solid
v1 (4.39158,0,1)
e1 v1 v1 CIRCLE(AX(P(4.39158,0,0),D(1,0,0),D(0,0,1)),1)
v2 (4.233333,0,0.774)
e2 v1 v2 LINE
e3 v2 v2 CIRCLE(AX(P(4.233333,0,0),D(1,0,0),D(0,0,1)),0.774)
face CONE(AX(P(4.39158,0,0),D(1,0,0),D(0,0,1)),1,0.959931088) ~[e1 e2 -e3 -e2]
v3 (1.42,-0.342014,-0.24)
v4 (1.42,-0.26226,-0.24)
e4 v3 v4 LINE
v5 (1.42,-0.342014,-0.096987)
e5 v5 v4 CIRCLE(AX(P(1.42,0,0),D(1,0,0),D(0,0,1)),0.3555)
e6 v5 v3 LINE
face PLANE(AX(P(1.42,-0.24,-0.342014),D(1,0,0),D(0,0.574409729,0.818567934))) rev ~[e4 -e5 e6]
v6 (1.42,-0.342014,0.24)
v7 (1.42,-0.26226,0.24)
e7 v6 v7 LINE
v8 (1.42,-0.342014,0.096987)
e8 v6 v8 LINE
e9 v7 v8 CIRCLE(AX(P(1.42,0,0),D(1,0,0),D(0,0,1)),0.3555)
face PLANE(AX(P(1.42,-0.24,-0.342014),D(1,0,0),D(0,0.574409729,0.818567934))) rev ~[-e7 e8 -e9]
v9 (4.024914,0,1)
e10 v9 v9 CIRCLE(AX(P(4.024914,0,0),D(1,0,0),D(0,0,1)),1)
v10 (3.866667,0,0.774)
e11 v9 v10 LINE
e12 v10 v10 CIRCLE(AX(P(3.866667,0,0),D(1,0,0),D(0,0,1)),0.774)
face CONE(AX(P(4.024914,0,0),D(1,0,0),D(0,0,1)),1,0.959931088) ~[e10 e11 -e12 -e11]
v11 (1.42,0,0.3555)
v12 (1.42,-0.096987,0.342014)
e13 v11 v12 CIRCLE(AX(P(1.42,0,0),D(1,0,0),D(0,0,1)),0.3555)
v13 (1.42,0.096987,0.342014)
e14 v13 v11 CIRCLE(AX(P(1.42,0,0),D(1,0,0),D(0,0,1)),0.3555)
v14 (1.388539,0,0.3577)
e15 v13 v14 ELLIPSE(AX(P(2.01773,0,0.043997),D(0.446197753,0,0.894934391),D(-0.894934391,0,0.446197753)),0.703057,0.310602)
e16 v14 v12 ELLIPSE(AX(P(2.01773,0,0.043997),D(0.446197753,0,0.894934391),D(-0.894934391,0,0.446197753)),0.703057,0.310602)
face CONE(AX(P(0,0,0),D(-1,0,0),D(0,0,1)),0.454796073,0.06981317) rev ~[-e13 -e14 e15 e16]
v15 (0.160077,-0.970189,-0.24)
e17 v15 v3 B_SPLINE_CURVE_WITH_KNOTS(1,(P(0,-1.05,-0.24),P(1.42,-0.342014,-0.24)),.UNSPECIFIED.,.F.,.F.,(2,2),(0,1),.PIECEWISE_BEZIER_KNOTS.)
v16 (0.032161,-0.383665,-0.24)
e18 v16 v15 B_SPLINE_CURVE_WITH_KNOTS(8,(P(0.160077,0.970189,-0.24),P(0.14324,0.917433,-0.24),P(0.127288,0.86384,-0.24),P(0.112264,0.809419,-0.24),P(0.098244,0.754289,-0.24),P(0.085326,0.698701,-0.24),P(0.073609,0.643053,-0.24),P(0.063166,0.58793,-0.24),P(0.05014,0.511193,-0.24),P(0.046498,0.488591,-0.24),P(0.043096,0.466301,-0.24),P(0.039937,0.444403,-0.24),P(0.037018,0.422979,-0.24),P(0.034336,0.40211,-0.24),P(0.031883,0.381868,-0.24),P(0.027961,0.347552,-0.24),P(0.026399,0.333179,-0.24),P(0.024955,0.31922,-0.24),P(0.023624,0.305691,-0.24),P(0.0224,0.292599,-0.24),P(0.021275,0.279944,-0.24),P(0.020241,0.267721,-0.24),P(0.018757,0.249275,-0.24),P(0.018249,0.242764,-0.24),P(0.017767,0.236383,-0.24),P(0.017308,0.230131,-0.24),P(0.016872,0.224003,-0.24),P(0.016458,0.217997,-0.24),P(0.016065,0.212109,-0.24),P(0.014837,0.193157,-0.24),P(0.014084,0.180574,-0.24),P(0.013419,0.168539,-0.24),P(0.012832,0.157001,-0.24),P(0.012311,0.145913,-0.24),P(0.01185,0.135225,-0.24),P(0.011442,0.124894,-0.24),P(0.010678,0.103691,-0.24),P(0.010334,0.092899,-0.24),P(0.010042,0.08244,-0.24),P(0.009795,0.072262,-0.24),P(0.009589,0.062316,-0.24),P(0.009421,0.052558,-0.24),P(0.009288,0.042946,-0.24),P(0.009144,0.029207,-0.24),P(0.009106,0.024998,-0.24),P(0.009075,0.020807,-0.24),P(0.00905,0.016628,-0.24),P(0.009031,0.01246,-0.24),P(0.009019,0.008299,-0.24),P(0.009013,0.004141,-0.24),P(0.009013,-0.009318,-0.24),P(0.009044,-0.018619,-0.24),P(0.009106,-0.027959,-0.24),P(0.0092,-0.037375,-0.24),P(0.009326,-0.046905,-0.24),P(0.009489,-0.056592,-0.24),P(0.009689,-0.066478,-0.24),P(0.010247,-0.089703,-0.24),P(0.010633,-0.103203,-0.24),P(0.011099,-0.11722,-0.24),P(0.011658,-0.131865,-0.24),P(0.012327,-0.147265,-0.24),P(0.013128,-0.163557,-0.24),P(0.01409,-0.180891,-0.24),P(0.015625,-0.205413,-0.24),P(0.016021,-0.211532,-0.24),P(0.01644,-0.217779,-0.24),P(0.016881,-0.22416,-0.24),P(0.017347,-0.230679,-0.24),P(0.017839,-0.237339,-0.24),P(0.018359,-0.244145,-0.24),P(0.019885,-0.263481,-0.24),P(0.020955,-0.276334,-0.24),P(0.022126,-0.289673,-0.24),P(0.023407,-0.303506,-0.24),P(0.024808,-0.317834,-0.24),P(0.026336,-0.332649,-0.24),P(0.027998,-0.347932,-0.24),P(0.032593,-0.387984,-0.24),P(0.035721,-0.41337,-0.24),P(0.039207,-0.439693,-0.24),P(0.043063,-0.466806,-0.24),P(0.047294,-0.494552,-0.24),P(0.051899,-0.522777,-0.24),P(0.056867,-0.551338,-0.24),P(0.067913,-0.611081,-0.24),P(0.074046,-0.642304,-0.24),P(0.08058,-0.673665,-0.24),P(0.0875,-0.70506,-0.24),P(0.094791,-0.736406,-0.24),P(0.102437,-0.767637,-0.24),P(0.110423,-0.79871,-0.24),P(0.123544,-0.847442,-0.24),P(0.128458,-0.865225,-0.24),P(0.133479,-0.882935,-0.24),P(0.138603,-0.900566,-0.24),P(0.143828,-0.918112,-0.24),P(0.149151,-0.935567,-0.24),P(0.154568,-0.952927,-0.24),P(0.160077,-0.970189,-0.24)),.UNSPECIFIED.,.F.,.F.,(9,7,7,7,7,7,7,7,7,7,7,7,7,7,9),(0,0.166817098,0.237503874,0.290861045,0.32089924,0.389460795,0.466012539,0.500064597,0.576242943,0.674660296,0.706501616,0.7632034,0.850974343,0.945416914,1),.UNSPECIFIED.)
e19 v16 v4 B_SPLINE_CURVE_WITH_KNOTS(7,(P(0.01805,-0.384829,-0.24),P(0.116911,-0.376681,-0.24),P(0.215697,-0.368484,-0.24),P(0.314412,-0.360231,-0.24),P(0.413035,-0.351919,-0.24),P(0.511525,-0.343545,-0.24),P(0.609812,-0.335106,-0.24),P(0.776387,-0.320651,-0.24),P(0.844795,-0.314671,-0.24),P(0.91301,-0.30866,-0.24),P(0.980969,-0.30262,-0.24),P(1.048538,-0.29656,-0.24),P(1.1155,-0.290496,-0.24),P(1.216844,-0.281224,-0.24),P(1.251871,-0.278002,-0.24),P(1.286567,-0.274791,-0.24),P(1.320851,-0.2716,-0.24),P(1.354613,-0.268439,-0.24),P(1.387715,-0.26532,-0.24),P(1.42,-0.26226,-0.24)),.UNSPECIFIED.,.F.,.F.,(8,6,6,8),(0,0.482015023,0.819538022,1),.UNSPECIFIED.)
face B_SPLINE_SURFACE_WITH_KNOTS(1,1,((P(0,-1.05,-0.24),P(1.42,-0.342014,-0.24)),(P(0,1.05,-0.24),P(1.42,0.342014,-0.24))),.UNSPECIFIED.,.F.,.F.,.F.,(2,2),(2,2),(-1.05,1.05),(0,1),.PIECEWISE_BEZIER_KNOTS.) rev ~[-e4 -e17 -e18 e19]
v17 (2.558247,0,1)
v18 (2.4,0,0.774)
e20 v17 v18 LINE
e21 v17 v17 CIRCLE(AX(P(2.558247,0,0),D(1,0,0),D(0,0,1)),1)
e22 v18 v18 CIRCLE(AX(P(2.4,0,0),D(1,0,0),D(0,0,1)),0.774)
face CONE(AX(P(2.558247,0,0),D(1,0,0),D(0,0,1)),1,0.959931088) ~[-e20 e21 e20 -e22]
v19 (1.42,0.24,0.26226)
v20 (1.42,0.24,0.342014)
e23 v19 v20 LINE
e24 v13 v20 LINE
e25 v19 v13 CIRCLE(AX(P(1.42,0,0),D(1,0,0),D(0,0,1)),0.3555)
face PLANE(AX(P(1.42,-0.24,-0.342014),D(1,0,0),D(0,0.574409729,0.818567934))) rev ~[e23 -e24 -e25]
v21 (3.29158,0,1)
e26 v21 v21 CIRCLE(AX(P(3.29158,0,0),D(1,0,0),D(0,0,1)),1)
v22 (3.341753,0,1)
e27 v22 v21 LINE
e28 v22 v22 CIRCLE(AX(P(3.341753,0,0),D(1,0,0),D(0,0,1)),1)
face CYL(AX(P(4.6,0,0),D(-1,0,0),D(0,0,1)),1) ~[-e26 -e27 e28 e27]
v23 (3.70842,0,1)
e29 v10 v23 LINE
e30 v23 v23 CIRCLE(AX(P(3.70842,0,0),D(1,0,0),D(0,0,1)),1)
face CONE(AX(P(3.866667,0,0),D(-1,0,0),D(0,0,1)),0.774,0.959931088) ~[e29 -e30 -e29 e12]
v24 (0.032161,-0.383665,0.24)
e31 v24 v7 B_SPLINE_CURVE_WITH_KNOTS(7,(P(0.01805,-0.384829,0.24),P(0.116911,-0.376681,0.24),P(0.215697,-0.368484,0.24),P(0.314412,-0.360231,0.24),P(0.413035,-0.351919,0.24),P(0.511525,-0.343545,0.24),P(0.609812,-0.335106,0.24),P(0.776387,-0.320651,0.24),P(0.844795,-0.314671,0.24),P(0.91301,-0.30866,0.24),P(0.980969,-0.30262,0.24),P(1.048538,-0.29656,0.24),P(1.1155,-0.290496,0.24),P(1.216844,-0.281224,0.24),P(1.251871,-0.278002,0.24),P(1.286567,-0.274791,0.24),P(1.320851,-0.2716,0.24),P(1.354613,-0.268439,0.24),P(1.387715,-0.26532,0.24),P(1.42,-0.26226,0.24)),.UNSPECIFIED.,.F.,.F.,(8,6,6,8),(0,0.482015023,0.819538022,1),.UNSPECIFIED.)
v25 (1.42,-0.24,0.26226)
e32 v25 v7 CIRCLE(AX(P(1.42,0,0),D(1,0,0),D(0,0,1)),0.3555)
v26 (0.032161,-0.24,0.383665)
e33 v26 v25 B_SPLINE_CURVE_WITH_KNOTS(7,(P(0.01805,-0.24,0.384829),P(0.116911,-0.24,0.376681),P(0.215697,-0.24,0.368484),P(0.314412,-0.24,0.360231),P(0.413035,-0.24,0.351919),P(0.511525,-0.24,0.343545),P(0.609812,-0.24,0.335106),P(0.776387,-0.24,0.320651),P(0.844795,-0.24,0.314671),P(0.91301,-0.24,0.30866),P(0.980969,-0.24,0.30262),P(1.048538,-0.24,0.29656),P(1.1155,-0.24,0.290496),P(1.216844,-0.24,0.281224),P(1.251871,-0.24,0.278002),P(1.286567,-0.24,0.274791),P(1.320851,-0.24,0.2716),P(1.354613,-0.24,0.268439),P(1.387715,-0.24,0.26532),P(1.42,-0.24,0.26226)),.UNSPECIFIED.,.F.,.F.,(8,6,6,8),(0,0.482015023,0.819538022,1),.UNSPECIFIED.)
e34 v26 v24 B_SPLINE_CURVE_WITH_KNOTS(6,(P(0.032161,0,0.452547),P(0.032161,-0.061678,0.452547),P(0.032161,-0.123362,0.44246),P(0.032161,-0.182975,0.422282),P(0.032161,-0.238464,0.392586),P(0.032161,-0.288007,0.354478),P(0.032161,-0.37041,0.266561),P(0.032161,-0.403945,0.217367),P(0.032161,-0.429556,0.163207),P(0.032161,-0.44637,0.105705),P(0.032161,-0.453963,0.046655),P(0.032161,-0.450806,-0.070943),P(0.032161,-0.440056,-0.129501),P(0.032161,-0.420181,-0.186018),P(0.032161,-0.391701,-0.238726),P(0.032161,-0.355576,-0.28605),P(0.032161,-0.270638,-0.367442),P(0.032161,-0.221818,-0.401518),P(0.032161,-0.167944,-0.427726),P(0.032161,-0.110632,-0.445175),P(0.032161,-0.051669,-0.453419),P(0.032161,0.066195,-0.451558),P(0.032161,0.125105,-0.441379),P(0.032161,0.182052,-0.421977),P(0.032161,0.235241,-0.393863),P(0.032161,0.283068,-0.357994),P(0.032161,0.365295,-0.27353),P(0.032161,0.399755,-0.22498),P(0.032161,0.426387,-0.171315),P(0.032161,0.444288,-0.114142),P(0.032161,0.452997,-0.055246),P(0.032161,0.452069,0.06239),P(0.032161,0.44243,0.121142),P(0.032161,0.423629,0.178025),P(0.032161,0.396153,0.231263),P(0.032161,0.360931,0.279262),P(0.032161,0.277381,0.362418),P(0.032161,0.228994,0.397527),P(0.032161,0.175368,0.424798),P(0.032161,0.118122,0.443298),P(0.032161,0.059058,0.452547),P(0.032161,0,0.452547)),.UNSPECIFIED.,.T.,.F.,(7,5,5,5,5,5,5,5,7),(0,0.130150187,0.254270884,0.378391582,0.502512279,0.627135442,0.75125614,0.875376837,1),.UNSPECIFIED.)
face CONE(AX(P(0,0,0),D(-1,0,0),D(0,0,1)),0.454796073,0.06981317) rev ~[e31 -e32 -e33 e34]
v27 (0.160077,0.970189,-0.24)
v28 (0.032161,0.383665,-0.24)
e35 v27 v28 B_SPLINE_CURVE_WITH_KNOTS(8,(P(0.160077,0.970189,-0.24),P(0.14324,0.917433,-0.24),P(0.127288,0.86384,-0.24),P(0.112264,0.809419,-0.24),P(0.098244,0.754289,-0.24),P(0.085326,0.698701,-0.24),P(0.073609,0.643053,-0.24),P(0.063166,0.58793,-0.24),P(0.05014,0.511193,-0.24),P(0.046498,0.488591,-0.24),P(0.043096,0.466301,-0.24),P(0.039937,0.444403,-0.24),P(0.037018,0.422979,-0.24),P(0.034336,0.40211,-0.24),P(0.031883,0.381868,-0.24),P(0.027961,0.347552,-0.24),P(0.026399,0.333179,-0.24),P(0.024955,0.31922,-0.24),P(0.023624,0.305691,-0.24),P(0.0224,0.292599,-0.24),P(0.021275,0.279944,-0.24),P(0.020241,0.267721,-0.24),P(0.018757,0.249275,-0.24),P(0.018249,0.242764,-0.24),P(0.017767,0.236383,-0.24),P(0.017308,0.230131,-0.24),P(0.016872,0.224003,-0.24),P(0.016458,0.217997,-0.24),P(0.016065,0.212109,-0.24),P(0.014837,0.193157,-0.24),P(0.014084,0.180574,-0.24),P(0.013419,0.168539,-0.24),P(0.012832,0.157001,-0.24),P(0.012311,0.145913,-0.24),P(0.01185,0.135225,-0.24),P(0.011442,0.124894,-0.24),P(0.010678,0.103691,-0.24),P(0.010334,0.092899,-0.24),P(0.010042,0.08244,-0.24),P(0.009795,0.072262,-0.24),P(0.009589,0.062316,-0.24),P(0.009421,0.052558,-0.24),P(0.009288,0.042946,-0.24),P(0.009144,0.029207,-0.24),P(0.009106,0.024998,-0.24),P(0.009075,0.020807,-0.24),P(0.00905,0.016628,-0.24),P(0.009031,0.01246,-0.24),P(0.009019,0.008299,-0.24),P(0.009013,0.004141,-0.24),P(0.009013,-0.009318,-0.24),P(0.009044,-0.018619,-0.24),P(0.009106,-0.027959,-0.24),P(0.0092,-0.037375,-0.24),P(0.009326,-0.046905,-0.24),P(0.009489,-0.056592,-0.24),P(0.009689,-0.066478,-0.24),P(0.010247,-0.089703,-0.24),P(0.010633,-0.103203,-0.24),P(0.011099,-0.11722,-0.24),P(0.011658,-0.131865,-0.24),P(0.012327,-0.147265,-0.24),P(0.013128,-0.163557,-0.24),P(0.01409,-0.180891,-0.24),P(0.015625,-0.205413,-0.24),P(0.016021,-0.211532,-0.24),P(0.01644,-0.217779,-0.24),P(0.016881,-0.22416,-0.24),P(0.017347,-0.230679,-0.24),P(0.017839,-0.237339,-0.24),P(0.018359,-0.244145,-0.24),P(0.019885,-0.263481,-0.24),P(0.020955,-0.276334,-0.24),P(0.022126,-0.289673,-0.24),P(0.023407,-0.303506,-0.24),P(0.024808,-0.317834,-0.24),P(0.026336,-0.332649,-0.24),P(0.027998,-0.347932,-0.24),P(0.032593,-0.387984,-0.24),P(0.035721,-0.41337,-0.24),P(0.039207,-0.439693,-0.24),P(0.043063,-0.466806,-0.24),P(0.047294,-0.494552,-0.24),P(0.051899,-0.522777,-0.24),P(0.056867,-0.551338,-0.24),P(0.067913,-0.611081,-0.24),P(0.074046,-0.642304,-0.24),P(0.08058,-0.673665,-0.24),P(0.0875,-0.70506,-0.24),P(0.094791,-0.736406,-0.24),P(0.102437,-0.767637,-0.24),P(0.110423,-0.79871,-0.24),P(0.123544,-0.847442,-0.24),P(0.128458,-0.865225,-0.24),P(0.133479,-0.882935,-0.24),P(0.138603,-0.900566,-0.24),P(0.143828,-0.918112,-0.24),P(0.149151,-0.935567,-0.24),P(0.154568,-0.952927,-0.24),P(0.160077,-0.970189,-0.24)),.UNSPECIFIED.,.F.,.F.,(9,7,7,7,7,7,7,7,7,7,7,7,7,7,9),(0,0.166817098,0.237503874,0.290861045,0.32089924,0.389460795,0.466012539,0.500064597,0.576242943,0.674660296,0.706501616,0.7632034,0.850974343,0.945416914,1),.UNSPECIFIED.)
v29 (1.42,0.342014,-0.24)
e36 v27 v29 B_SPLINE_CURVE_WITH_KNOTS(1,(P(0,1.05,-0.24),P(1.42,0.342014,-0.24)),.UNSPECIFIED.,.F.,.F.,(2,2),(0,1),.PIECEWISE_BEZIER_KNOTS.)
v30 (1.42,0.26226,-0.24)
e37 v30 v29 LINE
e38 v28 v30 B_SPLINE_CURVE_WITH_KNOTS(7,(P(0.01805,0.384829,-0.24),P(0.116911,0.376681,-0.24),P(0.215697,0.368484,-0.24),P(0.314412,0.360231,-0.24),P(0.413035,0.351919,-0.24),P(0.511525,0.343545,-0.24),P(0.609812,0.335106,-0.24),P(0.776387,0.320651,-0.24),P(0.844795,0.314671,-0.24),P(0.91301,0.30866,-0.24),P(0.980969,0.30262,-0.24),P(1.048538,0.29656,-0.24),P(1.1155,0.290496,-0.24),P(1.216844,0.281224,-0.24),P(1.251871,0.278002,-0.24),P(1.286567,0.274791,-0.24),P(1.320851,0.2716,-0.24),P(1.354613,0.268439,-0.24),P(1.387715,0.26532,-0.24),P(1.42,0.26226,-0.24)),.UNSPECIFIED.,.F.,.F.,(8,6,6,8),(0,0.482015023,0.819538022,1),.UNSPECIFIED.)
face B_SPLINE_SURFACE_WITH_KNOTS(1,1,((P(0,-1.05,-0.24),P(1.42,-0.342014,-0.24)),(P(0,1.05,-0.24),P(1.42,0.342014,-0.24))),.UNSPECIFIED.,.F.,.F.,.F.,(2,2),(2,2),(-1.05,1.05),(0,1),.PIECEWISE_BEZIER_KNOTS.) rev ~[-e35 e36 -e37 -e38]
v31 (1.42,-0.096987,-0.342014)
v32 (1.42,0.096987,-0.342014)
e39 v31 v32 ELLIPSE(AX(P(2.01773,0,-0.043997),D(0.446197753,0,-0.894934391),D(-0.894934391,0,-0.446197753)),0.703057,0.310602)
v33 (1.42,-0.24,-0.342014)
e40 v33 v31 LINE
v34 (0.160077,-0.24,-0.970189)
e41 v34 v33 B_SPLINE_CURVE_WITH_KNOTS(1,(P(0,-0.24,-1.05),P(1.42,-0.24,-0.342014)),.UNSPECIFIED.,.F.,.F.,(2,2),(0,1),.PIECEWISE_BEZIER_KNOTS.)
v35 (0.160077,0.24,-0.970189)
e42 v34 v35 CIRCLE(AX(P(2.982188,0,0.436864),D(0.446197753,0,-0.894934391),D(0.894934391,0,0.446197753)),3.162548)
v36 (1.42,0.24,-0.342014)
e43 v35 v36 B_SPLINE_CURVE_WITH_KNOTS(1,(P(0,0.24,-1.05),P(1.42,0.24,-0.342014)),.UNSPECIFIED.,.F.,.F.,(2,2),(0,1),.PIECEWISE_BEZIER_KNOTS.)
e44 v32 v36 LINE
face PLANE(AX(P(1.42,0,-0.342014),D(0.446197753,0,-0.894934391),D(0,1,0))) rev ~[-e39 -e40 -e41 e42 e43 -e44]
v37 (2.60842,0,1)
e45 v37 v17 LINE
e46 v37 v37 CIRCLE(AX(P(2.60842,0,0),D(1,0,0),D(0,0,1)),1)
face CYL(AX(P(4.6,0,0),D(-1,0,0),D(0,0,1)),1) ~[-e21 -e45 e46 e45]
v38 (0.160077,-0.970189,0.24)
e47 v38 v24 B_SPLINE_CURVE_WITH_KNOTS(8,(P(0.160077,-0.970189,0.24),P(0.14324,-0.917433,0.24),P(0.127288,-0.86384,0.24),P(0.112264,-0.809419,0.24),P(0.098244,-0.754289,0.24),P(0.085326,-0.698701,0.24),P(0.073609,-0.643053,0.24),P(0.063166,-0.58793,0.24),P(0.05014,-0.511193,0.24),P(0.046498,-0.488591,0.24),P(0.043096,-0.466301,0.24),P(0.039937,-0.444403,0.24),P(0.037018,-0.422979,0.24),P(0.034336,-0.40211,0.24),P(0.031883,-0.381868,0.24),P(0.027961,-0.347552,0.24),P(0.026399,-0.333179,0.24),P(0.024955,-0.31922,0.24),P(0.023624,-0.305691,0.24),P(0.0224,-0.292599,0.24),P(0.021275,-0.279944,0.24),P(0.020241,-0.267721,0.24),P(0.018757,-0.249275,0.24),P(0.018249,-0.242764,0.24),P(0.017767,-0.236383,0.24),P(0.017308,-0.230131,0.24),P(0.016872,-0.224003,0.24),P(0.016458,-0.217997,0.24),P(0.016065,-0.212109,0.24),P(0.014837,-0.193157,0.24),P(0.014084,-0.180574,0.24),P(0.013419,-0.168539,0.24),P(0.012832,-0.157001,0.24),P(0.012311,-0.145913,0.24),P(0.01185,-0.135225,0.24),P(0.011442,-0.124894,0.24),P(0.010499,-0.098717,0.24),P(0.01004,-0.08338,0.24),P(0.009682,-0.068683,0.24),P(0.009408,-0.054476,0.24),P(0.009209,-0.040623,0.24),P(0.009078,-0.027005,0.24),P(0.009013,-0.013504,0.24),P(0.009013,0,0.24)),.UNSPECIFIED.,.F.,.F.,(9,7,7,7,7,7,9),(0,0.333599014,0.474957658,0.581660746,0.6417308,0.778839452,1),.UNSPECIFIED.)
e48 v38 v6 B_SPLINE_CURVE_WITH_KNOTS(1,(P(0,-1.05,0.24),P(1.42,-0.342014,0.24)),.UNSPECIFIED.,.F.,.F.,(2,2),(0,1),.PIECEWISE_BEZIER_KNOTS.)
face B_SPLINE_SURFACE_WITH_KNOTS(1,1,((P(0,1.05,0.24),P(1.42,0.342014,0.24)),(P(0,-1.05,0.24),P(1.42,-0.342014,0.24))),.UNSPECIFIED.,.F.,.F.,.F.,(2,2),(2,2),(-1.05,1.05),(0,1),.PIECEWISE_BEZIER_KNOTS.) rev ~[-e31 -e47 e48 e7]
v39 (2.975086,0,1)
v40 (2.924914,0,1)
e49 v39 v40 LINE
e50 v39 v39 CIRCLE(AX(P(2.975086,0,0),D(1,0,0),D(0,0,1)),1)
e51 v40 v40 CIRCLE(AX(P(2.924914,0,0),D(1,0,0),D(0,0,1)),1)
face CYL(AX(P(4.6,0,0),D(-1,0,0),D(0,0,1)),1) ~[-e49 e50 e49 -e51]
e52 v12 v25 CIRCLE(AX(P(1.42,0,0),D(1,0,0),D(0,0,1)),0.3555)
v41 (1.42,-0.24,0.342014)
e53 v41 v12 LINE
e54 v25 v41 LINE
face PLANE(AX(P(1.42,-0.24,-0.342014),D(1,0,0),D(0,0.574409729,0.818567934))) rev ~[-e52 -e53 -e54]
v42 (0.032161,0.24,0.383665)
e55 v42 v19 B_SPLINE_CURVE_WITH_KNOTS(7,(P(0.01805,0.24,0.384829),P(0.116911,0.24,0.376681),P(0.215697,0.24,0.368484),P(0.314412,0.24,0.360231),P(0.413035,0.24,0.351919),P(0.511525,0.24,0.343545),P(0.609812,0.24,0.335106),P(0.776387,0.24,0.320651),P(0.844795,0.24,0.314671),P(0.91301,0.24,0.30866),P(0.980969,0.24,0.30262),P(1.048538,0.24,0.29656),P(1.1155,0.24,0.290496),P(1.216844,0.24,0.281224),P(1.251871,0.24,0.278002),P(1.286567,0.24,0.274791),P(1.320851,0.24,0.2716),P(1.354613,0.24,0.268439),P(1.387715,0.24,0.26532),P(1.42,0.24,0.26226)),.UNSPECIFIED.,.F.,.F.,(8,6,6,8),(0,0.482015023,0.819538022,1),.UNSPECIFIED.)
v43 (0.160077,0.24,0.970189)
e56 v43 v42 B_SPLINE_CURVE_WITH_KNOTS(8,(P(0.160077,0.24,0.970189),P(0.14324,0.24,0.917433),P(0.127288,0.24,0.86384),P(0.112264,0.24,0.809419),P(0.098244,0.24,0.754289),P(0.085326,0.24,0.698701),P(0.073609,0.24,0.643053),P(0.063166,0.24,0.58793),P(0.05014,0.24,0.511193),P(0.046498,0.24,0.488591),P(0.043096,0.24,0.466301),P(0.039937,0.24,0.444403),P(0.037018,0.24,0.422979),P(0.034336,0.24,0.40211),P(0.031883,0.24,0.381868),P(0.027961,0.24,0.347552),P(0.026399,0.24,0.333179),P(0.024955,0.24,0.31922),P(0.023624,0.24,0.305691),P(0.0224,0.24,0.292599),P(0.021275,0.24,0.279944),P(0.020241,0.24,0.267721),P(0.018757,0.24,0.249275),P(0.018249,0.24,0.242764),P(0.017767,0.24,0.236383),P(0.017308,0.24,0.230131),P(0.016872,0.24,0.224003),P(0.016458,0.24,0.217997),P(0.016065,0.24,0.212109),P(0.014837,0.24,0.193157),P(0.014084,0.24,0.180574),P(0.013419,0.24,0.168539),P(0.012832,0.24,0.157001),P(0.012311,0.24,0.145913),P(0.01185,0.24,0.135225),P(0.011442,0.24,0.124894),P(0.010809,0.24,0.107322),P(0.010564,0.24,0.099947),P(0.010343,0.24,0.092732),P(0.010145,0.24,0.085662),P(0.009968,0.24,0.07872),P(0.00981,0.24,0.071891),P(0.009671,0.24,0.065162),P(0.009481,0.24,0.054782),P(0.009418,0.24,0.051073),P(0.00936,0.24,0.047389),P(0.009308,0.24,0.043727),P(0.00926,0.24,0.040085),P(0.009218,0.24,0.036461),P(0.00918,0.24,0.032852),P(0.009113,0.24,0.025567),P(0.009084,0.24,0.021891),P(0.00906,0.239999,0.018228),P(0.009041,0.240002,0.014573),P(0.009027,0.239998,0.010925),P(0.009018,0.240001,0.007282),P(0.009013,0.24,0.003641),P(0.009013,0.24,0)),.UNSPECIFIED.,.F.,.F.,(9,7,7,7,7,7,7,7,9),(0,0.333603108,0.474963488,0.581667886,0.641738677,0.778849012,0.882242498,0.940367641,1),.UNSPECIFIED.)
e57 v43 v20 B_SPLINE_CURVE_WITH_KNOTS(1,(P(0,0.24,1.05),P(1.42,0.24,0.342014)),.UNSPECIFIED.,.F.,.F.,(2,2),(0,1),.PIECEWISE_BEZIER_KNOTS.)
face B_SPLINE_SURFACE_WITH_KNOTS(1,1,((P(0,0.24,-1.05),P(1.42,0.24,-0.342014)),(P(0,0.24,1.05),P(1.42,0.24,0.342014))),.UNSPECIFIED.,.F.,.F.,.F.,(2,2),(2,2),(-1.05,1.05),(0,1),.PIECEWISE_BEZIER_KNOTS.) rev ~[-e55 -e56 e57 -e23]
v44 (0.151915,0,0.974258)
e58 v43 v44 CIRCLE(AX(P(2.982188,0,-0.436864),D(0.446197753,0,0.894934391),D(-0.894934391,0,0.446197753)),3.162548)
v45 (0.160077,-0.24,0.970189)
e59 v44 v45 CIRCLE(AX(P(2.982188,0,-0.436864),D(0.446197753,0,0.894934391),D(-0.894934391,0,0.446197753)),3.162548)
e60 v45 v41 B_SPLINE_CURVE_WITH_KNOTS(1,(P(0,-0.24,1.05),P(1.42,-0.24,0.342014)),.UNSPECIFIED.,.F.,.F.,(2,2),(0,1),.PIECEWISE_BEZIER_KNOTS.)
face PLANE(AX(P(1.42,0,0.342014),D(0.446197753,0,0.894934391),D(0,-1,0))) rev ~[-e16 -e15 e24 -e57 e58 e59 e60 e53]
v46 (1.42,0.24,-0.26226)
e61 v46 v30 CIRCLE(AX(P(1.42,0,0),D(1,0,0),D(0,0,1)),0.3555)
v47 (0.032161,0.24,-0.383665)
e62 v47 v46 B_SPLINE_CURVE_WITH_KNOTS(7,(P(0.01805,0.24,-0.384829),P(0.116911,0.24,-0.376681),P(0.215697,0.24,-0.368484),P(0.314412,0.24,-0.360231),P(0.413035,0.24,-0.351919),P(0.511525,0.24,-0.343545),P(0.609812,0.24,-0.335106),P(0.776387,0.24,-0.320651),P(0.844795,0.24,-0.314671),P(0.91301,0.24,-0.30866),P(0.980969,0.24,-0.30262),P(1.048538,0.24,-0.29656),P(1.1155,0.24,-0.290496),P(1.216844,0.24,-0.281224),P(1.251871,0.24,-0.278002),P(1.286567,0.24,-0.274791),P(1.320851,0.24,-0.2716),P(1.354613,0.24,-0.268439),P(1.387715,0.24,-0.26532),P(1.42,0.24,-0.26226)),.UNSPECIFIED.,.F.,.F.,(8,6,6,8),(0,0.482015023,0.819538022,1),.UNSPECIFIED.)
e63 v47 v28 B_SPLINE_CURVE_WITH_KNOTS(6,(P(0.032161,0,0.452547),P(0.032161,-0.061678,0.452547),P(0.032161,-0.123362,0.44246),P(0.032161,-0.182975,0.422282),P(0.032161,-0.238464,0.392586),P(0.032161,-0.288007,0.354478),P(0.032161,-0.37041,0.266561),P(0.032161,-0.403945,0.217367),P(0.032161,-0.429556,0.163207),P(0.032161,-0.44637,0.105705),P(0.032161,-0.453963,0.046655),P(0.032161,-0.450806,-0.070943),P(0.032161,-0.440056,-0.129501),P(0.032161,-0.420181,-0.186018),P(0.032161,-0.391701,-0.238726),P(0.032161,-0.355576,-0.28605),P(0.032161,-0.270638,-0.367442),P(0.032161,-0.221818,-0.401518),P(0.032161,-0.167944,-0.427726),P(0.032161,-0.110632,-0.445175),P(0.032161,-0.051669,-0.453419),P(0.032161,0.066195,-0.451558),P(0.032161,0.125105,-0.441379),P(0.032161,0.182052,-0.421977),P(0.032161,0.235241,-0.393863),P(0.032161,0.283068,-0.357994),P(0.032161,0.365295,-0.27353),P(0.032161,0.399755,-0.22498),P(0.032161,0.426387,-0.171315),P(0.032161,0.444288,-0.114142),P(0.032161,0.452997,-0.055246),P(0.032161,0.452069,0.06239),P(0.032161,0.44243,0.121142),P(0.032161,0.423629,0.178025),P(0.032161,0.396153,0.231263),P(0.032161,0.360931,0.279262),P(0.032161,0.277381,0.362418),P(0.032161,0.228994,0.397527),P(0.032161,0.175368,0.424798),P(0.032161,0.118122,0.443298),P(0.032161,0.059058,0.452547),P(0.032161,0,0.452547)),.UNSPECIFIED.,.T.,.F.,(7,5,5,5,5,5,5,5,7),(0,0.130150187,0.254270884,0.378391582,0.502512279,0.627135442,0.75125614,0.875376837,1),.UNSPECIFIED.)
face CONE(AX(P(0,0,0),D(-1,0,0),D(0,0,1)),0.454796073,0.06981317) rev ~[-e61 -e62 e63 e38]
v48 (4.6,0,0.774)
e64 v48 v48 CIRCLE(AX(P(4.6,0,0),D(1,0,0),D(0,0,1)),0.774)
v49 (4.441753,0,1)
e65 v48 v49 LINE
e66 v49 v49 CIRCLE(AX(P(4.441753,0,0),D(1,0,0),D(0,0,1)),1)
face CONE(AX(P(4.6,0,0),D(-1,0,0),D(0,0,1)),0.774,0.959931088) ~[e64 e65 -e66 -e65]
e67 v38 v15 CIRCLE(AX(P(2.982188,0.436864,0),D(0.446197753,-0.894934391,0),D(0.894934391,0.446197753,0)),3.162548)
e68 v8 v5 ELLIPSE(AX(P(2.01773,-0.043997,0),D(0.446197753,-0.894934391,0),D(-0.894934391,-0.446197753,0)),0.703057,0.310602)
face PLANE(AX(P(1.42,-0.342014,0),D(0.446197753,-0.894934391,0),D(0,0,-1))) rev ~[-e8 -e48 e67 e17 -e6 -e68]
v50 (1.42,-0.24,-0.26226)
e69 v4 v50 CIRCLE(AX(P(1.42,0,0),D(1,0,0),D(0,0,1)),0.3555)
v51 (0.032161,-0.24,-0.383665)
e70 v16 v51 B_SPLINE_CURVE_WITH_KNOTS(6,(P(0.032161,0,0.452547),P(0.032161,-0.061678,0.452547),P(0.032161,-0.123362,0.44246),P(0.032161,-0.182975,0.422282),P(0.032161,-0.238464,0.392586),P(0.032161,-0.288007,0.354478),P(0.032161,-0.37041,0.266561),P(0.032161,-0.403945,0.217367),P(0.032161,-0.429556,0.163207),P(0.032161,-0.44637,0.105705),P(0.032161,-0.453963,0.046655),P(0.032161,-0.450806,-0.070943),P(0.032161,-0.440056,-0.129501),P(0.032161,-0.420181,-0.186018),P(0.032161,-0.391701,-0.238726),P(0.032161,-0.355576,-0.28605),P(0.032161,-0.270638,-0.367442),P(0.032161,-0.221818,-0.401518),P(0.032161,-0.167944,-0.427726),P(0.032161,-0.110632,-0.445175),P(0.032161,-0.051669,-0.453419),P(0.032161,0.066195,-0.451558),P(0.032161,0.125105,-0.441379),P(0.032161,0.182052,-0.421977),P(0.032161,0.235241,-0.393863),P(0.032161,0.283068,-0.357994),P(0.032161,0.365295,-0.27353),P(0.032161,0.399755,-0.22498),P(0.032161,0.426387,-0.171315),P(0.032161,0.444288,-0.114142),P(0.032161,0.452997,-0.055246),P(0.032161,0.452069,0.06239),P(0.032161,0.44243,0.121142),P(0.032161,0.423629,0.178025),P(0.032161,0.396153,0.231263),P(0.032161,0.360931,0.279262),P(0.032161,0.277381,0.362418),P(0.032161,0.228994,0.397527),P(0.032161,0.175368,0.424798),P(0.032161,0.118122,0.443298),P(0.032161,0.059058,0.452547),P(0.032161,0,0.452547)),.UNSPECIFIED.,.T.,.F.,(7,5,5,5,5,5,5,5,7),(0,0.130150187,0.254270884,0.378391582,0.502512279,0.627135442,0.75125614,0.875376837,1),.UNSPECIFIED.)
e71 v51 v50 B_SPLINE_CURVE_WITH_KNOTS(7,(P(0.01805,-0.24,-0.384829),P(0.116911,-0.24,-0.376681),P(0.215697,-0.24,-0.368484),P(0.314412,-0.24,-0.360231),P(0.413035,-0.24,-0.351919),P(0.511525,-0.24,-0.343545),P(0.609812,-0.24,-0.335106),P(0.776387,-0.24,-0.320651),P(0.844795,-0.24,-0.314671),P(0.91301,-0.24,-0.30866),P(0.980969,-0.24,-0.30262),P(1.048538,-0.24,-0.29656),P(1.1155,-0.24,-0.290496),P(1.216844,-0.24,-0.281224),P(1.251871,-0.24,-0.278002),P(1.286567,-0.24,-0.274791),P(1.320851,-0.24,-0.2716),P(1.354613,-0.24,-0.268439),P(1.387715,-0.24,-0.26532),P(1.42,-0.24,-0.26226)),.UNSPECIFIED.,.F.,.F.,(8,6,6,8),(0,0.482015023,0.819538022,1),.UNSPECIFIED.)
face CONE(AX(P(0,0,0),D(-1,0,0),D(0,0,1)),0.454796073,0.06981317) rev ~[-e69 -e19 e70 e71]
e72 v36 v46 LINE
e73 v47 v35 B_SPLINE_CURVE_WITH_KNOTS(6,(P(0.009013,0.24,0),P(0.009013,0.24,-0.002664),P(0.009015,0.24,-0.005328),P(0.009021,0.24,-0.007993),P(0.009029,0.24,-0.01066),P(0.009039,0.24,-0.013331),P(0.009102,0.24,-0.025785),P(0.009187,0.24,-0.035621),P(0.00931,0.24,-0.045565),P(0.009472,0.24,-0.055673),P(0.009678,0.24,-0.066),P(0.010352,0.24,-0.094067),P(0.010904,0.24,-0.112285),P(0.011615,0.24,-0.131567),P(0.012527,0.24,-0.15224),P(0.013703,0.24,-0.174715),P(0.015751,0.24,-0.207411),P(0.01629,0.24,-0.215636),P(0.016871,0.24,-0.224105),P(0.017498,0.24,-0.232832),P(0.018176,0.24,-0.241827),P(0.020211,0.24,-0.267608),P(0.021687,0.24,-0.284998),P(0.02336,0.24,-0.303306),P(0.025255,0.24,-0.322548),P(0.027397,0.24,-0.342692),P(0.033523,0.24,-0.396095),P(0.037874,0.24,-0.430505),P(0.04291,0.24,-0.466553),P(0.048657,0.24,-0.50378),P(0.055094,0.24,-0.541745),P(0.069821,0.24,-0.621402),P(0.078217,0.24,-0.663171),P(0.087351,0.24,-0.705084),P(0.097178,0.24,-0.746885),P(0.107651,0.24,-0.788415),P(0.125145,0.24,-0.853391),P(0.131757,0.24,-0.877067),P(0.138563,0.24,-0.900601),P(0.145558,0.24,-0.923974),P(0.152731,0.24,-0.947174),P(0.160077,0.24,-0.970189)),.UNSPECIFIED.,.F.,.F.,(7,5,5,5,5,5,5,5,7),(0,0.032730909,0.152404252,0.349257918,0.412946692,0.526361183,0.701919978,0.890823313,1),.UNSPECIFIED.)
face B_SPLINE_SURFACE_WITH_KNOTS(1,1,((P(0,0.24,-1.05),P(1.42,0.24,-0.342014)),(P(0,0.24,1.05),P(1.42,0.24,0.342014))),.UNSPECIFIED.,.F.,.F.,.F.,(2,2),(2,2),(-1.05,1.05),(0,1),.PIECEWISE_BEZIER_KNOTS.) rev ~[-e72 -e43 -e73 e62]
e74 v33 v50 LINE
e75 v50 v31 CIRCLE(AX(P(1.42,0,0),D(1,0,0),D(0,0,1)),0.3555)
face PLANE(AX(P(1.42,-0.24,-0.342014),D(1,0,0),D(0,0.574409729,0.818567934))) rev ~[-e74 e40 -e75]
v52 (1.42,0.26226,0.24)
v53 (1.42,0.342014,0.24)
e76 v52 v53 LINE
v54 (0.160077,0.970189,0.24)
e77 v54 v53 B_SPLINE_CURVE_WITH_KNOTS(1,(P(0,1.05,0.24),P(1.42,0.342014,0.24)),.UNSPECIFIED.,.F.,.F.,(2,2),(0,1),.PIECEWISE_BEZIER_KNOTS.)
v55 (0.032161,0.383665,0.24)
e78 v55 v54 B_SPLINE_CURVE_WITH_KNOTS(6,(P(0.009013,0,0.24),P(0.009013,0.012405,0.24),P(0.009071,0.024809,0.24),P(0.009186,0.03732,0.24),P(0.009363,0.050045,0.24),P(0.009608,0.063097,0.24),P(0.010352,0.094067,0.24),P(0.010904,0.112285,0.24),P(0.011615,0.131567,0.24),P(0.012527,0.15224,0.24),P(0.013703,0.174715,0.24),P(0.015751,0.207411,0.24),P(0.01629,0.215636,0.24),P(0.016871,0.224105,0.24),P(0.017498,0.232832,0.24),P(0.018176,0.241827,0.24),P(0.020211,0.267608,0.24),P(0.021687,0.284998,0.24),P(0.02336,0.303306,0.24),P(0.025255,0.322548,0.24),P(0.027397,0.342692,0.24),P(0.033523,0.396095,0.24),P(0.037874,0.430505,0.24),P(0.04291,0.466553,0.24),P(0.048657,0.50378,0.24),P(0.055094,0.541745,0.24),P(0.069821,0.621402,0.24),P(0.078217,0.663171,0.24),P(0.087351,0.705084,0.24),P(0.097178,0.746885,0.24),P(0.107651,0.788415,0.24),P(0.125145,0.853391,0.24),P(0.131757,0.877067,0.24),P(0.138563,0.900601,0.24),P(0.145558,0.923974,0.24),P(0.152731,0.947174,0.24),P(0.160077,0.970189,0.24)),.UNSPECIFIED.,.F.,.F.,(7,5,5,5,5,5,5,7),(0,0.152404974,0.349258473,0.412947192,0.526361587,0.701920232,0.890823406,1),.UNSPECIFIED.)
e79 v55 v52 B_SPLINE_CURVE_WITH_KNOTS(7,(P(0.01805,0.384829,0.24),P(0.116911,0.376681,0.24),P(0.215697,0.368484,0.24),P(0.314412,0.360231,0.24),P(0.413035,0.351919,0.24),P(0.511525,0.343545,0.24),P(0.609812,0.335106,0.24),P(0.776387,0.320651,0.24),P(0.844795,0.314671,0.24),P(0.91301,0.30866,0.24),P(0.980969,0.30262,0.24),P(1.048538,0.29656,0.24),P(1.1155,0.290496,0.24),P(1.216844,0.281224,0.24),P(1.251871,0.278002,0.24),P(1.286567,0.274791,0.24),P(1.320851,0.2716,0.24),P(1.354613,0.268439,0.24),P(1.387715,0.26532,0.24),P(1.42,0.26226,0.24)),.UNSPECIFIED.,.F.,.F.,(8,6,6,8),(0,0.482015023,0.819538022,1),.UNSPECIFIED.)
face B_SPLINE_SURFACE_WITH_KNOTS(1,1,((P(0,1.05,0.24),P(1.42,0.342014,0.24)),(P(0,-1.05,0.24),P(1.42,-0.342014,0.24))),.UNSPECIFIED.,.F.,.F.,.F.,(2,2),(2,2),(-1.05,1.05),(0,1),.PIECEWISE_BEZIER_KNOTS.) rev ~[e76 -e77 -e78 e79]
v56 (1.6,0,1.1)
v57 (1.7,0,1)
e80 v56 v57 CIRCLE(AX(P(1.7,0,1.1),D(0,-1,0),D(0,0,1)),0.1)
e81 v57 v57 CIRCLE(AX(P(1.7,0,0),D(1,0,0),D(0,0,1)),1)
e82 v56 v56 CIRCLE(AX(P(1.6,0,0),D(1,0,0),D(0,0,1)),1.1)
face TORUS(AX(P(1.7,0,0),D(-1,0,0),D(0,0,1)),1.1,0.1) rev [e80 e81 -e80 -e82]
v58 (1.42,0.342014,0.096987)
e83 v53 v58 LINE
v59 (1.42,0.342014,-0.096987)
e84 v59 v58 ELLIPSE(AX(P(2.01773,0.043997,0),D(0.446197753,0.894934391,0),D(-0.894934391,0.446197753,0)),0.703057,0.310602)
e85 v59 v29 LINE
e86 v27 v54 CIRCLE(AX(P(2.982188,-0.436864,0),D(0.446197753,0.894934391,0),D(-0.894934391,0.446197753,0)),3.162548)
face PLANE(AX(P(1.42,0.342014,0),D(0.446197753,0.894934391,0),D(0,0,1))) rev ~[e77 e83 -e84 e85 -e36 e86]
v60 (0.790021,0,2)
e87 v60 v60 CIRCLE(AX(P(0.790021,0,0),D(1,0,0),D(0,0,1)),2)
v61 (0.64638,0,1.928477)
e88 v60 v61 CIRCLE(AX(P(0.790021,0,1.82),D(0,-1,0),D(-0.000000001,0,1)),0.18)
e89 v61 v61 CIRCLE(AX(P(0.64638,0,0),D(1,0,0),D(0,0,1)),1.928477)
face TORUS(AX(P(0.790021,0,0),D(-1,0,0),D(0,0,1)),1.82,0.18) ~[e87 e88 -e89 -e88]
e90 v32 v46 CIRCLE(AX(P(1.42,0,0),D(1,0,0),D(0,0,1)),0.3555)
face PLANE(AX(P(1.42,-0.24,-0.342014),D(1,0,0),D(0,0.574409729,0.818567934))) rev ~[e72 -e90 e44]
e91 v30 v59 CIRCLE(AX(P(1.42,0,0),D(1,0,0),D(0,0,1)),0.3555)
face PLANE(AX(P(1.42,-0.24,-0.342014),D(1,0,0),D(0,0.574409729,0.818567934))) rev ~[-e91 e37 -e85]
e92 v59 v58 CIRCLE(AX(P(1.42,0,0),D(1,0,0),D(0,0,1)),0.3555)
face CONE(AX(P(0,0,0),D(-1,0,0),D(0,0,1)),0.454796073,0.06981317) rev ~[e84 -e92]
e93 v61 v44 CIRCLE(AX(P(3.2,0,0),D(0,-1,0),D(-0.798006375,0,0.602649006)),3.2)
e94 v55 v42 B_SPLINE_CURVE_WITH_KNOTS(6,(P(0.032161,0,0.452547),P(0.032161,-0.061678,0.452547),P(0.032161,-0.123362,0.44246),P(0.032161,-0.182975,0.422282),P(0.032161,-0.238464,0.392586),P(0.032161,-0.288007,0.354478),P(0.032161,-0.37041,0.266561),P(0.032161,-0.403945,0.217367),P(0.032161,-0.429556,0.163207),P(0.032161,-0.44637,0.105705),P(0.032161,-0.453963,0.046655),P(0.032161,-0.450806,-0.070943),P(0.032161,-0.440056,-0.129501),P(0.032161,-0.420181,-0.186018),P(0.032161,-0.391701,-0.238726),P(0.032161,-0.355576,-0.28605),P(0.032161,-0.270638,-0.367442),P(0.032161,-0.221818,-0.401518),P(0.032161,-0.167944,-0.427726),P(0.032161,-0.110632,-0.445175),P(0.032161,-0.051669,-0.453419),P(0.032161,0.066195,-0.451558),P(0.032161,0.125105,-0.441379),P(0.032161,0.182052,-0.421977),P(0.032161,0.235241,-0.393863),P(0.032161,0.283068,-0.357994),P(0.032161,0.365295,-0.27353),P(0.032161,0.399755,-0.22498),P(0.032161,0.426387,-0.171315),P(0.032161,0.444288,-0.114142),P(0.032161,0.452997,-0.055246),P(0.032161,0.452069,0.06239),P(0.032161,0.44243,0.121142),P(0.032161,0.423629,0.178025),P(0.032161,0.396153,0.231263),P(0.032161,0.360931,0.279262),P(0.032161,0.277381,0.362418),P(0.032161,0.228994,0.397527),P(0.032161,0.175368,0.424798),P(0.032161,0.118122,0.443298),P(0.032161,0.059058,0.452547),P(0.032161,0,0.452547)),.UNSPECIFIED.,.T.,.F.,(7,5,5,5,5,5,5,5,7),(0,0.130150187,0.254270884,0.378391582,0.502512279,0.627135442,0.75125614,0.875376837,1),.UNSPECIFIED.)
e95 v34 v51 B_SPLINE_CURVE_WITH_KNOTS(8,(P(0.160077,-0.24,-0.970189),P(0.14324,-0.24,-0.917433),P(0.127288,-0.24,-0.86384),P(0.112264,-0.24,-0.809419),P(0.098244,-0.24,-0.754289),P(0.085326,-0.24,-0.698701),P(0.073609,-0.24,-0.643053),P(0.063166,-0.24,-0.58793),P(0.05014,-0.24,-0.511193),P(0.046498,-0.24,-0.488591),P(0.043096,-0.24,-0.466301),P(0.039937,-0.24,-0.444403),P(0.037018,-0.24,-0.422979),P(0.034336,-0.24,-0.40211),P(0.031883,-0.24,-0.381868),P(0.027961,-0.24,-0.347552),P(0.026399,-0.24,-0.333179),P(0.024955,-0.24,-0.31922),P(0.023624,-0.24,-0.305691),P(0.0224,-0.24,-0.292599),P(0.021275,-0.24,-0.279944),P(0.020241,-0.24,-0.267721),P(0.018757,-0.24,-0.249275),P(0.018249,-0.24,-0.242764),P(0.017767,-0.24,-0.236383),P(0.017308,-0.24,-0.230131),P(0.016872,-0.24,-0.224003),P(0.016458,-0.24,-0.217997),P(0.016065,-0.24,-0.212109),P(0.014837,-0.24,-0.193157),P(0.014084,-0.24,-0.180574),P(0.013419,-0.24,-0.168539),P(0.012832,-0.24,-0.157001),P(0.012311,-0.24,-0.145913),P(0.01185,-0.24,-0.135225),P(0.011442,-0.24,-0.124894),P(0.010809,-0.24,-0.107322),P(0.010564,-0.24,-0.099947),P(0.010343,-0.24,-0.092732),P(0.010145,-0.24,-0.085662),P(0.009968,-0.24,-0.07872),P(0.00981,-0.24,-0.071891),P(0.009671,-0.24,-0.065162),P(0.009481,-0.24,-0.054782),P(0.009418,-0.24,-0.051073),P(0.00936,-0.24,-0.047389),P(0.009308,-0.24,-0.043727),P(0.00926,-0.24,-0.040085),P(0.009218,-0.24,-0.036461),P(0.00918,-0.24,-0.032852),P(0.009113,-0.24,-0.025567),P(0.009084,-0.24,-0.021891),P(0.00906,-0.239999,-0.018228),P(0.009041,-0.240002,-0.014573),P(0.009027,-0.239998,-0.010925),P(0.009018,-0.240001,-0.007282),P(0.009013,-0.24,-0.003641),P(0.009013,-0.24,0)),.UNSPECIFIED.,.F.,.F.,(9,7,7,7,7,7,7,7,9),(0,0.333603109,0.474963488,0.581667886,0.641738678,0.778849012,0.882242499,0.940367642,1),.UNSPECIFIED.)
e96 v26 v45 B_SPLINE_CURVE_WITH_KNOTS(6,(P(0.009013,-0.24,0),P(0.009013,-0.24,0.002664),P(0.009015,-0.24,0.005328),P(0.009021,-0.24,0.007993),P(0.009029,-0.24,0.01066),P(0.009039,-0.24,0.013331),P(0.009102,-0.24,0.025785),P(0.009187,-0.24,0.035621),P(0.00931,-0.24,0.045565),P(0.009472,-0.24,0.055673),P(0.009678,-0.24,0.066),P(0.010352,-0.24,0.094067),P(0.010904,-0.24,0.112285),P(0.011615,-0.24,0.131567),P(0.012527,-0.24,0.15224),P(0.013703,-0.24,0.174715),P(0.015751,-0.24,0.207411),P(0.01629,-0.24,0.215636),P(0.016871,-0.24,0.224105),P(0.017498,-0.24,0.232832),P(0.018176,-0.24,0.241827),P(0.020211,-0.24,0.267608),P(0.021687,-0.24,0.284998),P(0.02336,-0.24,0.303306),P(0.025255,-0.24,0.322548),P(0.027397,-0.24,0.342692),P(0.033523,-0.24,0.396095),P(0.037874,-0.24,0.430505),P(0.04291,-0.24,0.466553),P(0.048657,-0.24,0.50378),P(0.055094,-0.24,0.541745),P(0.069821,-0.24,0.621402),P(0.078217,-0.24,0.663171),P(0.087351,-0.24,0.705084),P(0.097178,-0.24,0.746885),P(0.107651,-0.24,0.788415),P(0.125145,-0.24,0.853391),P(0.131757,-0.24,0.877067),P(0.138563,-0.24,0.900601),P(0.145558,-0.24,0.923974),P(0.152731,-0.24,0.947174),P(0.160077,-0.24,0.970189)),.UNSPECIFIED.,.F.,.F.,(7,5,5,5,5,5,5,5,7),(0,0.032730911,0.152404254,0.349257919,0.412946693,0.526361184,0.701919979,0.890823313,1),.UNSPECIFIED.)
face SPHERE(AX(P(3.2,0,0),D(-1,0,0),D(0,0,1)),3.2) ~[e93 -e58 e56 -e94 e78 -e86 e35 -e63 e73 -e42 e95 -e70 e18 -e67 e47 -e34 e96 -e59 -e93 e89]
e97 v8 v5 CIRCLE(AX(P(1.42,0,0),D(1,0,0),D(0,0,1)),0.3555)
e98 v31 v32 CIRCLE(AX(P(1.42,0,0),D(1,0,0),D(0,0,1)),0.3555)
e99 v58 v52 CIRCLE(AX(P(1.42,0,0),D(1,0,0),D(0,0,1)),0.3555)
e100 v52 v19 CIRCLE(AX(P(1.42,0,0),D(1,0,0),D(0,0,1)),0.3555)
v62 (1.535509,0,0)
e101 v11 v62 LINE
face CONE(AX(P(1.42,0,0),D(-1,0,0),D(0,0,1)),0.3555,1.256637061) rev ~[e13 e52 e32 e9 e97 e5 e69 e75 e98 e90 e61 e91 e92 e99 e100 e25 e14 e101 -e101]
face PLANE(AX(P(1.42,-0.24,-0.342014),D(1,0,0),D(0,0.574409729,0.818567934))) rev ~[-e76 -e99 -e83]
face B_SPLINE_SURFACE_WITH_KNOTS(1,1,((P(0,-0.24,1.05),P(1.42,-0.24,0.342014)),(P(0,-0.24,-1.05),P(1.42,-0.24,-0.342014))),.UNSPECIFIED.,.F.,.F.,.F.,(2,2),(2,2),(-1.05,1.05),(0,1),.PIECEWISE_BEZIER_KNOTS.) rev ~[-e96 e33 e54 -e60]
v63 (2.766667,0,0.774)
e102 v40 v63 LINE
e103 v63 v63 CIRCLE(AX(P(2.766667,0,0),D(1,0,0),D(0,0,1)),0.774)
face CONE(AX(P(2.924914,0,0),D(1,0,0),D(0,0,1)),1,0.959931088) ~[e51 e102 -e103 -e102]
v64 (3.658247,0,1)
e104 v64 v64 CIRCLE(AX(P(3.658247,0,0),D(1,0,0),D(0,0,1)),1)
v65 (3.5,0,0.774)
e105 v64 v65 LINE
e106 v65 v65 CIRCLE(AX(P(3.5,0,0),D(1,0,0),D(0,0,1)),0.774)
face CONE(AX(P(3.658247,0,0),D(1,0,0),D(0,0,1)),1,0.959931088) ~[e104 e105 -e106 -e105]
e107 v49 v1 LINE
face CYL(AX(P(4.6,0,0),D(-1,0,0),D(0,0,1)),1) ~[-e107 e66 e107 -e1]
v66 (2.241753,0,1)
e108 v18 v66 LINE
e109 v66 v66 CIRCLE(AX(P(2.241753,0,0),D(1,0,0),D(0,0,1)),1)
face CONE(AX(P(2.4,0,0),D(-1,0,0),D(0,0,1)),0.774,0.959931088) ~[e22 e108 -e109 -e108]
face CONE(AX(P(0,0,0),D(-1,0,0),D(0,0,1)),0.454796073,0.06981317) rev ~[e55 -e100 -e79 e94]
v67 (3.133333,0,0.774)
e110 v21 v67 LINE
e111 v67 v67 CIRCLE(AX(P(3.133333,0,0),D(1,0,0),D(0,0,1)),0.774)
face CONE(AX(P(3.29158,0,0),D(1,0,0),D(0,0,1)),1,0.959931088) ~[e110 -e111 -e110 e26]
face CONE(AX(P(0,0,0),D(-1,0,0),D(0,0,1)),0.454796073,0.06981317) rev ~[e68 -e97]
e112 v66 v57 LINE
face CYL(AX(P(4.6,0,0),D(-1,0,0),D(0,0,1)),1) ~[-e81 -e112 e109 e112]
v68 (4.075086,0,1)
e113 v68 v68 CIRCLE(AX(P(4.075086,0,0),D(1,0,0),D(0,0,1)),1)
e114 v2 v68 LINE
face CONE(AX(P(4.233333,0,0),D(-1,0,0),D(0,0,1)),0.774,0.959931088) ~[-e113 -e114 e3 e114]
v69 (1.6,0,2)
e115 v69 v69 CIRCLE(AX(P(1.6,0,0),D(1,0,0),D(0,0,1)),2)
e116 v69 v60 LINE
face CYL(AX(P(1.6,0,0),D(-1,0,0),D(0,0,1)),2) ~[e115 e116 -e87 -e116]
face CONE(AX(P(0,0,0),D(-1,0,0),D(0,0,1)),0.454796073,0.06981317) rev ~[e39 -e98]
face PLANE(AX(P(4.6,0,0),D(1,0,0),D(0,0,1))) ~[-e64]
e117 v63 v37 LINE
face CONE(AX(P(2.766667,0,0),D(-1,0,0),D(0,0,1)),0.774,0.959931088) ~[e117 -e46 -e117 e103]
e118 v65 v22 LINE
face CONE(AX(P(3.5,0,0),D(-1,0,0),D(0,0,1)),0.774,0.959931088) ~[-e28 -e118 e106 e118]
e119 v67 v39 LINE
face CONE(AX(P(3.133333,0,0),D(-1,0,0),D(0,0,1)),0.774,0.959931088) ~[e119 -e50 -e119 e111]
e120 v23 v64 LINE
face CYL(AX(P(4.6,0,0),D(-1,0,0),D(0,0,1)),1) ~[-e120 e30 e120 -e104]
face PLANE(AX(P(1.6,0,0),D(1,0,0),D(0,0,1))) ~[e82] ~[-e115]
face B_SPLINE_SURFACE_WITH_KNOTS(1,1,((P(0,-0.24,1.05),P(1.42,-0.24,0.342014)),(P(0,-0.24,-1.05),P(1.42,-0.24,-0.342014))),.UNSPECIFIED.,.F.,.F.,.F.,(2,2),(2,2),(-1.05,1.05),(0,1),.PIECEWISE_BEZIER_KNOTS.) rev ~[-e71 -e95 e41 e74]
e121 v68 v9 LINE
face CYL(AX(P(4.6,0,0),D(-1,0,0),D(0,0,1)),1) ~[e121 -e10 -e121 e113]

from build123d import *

# Parameters (mm, degrees)
FILLET1_R       = 0.1
SKETCH3_W       = 0.48
SKETCH3_H       = 2.1
SKETCH4_W       = 0.48
SKETCH4_H       = 0.68402847
RECPAT_COUNT    = 2
RECPAT_ANGLE    = 90
THDSCHPAT_COUNT = 7
THDSCHPAT_PITCH = 0.366666667


with BuildPart() as part:
    # BodySke → Base-Revolve (revolve)
    with BuildSketch(Plane.XY, mode=Mode.PRIVATE) as base_revolve_sk:
        with BuildLine():
            Line((1.6, 1), (1.6, 2))
            Line((1.6, 2), (0.790020747, 2))
            ThreePointArc((0.790020747, 2), (0.709789294, 1.981130115), (0.646379599, 1.928476821))
            ThreePointArc((0.646379599, 1.928476821), (0.165895084, 1.016959861), (0, 0))
            Line((0, 0), (4.6, 0))
            Line((4.6, 0), (4.6, 1))
            Line((4.6, 1), (1.6, 1))
        make_face()
    revolve(base_revolve_sk.sketch.rotate(Axis((-25.4, 0, 0), (1, 0, 0)), 90), axis=Axis((-25.4, 0, 0), (1, 0, 0)))  # turned: the seam where the file's is

    # Fillet1
    fillet1_edges = [part.edges().sort_by_distance(p)[0] for p in [
        (1.6, 0, -1),
    ]]
    fillet(fillet1_edges, radius=FILLET1_R)

    # Sketch3 → Recess section 0
    with BuildSketch(Plane(origin=(0, 0, 0), x_dir=(0, 0, -1), z_dir=(1, 0, 0))):
        Rectangle(SKETCH3_W, SKETCH3_H)
    # Sketch4 → Recess section 1
    with BuildSketch(Plane(origin=(1.42, 0, 0), x_dir=(0, 0, -1), z_dir=(1, 0, 0))):
        Rectangle(SKETCH4_W, SKETCH4_H)
    recess = loft(mode=Mode.SUBTRACT)

    # RecPat: Recess ×2 about axis
    recpat_axis = Axis((0, 0, 0), (1, 0, 0))
    for i in range(1, RECPAT_COUNT):
        add(recess.rotate(recpat_axis, i * RECPAT_ANGLE / (RECPAT_COUNT - 1)), mode=Mode.SUBTRACT)

    # RecCorSke → RecessCore (revolve, cut)
    with BuildSketch(Plane.XY, mode=Mode.PRIVATE) as recesscore_sk:
        Polygon((0, 0), (0, 0.454796073), (1.42, 0.3555), (1.535508952, 0), align=None)
    revolve(recesscore_sk.sketch.rotate(Axis((-3.175, 0, 0), (1, 0, 0)), 90), axis=Axis((-3.175, 0, 0), (1, 0, 0)), mode=Mode.SUBTRACT)  # turned: the seam where the file's is

    # ThdSchSke → ThreadSchematic (revolve, cut)
    with BuildSketch(Plane.XY, mode=Mode.PRIVATE) as threadschematic_sk:
        Polygon((2.4, -0.774), (2.241753096, -1), (2.241753096, -1.25), (2.558246904, -1.25), (2.558246904, -1), align=None)
    threadschematic = revolve(threadschematic_sk.sketch.rotate(Axis((-3.175, 0, 0), (1, 0, 0)), 270), axis=Axis((-3.175, 0, 0), (1, 0, 0)), mode=Mode.SUBTRACT)  # turned: the seam where the file's is

    # ThdSchPat: ThreadSchematic ×7
    with Locations(*[(i * THDSCHPAT_PITCH, 0, 0) for i in range(1, THDSCHPAT_COUNT)]):
        add(threadschematic, mode=Mode.SUBTRACT)


solid = part.part
